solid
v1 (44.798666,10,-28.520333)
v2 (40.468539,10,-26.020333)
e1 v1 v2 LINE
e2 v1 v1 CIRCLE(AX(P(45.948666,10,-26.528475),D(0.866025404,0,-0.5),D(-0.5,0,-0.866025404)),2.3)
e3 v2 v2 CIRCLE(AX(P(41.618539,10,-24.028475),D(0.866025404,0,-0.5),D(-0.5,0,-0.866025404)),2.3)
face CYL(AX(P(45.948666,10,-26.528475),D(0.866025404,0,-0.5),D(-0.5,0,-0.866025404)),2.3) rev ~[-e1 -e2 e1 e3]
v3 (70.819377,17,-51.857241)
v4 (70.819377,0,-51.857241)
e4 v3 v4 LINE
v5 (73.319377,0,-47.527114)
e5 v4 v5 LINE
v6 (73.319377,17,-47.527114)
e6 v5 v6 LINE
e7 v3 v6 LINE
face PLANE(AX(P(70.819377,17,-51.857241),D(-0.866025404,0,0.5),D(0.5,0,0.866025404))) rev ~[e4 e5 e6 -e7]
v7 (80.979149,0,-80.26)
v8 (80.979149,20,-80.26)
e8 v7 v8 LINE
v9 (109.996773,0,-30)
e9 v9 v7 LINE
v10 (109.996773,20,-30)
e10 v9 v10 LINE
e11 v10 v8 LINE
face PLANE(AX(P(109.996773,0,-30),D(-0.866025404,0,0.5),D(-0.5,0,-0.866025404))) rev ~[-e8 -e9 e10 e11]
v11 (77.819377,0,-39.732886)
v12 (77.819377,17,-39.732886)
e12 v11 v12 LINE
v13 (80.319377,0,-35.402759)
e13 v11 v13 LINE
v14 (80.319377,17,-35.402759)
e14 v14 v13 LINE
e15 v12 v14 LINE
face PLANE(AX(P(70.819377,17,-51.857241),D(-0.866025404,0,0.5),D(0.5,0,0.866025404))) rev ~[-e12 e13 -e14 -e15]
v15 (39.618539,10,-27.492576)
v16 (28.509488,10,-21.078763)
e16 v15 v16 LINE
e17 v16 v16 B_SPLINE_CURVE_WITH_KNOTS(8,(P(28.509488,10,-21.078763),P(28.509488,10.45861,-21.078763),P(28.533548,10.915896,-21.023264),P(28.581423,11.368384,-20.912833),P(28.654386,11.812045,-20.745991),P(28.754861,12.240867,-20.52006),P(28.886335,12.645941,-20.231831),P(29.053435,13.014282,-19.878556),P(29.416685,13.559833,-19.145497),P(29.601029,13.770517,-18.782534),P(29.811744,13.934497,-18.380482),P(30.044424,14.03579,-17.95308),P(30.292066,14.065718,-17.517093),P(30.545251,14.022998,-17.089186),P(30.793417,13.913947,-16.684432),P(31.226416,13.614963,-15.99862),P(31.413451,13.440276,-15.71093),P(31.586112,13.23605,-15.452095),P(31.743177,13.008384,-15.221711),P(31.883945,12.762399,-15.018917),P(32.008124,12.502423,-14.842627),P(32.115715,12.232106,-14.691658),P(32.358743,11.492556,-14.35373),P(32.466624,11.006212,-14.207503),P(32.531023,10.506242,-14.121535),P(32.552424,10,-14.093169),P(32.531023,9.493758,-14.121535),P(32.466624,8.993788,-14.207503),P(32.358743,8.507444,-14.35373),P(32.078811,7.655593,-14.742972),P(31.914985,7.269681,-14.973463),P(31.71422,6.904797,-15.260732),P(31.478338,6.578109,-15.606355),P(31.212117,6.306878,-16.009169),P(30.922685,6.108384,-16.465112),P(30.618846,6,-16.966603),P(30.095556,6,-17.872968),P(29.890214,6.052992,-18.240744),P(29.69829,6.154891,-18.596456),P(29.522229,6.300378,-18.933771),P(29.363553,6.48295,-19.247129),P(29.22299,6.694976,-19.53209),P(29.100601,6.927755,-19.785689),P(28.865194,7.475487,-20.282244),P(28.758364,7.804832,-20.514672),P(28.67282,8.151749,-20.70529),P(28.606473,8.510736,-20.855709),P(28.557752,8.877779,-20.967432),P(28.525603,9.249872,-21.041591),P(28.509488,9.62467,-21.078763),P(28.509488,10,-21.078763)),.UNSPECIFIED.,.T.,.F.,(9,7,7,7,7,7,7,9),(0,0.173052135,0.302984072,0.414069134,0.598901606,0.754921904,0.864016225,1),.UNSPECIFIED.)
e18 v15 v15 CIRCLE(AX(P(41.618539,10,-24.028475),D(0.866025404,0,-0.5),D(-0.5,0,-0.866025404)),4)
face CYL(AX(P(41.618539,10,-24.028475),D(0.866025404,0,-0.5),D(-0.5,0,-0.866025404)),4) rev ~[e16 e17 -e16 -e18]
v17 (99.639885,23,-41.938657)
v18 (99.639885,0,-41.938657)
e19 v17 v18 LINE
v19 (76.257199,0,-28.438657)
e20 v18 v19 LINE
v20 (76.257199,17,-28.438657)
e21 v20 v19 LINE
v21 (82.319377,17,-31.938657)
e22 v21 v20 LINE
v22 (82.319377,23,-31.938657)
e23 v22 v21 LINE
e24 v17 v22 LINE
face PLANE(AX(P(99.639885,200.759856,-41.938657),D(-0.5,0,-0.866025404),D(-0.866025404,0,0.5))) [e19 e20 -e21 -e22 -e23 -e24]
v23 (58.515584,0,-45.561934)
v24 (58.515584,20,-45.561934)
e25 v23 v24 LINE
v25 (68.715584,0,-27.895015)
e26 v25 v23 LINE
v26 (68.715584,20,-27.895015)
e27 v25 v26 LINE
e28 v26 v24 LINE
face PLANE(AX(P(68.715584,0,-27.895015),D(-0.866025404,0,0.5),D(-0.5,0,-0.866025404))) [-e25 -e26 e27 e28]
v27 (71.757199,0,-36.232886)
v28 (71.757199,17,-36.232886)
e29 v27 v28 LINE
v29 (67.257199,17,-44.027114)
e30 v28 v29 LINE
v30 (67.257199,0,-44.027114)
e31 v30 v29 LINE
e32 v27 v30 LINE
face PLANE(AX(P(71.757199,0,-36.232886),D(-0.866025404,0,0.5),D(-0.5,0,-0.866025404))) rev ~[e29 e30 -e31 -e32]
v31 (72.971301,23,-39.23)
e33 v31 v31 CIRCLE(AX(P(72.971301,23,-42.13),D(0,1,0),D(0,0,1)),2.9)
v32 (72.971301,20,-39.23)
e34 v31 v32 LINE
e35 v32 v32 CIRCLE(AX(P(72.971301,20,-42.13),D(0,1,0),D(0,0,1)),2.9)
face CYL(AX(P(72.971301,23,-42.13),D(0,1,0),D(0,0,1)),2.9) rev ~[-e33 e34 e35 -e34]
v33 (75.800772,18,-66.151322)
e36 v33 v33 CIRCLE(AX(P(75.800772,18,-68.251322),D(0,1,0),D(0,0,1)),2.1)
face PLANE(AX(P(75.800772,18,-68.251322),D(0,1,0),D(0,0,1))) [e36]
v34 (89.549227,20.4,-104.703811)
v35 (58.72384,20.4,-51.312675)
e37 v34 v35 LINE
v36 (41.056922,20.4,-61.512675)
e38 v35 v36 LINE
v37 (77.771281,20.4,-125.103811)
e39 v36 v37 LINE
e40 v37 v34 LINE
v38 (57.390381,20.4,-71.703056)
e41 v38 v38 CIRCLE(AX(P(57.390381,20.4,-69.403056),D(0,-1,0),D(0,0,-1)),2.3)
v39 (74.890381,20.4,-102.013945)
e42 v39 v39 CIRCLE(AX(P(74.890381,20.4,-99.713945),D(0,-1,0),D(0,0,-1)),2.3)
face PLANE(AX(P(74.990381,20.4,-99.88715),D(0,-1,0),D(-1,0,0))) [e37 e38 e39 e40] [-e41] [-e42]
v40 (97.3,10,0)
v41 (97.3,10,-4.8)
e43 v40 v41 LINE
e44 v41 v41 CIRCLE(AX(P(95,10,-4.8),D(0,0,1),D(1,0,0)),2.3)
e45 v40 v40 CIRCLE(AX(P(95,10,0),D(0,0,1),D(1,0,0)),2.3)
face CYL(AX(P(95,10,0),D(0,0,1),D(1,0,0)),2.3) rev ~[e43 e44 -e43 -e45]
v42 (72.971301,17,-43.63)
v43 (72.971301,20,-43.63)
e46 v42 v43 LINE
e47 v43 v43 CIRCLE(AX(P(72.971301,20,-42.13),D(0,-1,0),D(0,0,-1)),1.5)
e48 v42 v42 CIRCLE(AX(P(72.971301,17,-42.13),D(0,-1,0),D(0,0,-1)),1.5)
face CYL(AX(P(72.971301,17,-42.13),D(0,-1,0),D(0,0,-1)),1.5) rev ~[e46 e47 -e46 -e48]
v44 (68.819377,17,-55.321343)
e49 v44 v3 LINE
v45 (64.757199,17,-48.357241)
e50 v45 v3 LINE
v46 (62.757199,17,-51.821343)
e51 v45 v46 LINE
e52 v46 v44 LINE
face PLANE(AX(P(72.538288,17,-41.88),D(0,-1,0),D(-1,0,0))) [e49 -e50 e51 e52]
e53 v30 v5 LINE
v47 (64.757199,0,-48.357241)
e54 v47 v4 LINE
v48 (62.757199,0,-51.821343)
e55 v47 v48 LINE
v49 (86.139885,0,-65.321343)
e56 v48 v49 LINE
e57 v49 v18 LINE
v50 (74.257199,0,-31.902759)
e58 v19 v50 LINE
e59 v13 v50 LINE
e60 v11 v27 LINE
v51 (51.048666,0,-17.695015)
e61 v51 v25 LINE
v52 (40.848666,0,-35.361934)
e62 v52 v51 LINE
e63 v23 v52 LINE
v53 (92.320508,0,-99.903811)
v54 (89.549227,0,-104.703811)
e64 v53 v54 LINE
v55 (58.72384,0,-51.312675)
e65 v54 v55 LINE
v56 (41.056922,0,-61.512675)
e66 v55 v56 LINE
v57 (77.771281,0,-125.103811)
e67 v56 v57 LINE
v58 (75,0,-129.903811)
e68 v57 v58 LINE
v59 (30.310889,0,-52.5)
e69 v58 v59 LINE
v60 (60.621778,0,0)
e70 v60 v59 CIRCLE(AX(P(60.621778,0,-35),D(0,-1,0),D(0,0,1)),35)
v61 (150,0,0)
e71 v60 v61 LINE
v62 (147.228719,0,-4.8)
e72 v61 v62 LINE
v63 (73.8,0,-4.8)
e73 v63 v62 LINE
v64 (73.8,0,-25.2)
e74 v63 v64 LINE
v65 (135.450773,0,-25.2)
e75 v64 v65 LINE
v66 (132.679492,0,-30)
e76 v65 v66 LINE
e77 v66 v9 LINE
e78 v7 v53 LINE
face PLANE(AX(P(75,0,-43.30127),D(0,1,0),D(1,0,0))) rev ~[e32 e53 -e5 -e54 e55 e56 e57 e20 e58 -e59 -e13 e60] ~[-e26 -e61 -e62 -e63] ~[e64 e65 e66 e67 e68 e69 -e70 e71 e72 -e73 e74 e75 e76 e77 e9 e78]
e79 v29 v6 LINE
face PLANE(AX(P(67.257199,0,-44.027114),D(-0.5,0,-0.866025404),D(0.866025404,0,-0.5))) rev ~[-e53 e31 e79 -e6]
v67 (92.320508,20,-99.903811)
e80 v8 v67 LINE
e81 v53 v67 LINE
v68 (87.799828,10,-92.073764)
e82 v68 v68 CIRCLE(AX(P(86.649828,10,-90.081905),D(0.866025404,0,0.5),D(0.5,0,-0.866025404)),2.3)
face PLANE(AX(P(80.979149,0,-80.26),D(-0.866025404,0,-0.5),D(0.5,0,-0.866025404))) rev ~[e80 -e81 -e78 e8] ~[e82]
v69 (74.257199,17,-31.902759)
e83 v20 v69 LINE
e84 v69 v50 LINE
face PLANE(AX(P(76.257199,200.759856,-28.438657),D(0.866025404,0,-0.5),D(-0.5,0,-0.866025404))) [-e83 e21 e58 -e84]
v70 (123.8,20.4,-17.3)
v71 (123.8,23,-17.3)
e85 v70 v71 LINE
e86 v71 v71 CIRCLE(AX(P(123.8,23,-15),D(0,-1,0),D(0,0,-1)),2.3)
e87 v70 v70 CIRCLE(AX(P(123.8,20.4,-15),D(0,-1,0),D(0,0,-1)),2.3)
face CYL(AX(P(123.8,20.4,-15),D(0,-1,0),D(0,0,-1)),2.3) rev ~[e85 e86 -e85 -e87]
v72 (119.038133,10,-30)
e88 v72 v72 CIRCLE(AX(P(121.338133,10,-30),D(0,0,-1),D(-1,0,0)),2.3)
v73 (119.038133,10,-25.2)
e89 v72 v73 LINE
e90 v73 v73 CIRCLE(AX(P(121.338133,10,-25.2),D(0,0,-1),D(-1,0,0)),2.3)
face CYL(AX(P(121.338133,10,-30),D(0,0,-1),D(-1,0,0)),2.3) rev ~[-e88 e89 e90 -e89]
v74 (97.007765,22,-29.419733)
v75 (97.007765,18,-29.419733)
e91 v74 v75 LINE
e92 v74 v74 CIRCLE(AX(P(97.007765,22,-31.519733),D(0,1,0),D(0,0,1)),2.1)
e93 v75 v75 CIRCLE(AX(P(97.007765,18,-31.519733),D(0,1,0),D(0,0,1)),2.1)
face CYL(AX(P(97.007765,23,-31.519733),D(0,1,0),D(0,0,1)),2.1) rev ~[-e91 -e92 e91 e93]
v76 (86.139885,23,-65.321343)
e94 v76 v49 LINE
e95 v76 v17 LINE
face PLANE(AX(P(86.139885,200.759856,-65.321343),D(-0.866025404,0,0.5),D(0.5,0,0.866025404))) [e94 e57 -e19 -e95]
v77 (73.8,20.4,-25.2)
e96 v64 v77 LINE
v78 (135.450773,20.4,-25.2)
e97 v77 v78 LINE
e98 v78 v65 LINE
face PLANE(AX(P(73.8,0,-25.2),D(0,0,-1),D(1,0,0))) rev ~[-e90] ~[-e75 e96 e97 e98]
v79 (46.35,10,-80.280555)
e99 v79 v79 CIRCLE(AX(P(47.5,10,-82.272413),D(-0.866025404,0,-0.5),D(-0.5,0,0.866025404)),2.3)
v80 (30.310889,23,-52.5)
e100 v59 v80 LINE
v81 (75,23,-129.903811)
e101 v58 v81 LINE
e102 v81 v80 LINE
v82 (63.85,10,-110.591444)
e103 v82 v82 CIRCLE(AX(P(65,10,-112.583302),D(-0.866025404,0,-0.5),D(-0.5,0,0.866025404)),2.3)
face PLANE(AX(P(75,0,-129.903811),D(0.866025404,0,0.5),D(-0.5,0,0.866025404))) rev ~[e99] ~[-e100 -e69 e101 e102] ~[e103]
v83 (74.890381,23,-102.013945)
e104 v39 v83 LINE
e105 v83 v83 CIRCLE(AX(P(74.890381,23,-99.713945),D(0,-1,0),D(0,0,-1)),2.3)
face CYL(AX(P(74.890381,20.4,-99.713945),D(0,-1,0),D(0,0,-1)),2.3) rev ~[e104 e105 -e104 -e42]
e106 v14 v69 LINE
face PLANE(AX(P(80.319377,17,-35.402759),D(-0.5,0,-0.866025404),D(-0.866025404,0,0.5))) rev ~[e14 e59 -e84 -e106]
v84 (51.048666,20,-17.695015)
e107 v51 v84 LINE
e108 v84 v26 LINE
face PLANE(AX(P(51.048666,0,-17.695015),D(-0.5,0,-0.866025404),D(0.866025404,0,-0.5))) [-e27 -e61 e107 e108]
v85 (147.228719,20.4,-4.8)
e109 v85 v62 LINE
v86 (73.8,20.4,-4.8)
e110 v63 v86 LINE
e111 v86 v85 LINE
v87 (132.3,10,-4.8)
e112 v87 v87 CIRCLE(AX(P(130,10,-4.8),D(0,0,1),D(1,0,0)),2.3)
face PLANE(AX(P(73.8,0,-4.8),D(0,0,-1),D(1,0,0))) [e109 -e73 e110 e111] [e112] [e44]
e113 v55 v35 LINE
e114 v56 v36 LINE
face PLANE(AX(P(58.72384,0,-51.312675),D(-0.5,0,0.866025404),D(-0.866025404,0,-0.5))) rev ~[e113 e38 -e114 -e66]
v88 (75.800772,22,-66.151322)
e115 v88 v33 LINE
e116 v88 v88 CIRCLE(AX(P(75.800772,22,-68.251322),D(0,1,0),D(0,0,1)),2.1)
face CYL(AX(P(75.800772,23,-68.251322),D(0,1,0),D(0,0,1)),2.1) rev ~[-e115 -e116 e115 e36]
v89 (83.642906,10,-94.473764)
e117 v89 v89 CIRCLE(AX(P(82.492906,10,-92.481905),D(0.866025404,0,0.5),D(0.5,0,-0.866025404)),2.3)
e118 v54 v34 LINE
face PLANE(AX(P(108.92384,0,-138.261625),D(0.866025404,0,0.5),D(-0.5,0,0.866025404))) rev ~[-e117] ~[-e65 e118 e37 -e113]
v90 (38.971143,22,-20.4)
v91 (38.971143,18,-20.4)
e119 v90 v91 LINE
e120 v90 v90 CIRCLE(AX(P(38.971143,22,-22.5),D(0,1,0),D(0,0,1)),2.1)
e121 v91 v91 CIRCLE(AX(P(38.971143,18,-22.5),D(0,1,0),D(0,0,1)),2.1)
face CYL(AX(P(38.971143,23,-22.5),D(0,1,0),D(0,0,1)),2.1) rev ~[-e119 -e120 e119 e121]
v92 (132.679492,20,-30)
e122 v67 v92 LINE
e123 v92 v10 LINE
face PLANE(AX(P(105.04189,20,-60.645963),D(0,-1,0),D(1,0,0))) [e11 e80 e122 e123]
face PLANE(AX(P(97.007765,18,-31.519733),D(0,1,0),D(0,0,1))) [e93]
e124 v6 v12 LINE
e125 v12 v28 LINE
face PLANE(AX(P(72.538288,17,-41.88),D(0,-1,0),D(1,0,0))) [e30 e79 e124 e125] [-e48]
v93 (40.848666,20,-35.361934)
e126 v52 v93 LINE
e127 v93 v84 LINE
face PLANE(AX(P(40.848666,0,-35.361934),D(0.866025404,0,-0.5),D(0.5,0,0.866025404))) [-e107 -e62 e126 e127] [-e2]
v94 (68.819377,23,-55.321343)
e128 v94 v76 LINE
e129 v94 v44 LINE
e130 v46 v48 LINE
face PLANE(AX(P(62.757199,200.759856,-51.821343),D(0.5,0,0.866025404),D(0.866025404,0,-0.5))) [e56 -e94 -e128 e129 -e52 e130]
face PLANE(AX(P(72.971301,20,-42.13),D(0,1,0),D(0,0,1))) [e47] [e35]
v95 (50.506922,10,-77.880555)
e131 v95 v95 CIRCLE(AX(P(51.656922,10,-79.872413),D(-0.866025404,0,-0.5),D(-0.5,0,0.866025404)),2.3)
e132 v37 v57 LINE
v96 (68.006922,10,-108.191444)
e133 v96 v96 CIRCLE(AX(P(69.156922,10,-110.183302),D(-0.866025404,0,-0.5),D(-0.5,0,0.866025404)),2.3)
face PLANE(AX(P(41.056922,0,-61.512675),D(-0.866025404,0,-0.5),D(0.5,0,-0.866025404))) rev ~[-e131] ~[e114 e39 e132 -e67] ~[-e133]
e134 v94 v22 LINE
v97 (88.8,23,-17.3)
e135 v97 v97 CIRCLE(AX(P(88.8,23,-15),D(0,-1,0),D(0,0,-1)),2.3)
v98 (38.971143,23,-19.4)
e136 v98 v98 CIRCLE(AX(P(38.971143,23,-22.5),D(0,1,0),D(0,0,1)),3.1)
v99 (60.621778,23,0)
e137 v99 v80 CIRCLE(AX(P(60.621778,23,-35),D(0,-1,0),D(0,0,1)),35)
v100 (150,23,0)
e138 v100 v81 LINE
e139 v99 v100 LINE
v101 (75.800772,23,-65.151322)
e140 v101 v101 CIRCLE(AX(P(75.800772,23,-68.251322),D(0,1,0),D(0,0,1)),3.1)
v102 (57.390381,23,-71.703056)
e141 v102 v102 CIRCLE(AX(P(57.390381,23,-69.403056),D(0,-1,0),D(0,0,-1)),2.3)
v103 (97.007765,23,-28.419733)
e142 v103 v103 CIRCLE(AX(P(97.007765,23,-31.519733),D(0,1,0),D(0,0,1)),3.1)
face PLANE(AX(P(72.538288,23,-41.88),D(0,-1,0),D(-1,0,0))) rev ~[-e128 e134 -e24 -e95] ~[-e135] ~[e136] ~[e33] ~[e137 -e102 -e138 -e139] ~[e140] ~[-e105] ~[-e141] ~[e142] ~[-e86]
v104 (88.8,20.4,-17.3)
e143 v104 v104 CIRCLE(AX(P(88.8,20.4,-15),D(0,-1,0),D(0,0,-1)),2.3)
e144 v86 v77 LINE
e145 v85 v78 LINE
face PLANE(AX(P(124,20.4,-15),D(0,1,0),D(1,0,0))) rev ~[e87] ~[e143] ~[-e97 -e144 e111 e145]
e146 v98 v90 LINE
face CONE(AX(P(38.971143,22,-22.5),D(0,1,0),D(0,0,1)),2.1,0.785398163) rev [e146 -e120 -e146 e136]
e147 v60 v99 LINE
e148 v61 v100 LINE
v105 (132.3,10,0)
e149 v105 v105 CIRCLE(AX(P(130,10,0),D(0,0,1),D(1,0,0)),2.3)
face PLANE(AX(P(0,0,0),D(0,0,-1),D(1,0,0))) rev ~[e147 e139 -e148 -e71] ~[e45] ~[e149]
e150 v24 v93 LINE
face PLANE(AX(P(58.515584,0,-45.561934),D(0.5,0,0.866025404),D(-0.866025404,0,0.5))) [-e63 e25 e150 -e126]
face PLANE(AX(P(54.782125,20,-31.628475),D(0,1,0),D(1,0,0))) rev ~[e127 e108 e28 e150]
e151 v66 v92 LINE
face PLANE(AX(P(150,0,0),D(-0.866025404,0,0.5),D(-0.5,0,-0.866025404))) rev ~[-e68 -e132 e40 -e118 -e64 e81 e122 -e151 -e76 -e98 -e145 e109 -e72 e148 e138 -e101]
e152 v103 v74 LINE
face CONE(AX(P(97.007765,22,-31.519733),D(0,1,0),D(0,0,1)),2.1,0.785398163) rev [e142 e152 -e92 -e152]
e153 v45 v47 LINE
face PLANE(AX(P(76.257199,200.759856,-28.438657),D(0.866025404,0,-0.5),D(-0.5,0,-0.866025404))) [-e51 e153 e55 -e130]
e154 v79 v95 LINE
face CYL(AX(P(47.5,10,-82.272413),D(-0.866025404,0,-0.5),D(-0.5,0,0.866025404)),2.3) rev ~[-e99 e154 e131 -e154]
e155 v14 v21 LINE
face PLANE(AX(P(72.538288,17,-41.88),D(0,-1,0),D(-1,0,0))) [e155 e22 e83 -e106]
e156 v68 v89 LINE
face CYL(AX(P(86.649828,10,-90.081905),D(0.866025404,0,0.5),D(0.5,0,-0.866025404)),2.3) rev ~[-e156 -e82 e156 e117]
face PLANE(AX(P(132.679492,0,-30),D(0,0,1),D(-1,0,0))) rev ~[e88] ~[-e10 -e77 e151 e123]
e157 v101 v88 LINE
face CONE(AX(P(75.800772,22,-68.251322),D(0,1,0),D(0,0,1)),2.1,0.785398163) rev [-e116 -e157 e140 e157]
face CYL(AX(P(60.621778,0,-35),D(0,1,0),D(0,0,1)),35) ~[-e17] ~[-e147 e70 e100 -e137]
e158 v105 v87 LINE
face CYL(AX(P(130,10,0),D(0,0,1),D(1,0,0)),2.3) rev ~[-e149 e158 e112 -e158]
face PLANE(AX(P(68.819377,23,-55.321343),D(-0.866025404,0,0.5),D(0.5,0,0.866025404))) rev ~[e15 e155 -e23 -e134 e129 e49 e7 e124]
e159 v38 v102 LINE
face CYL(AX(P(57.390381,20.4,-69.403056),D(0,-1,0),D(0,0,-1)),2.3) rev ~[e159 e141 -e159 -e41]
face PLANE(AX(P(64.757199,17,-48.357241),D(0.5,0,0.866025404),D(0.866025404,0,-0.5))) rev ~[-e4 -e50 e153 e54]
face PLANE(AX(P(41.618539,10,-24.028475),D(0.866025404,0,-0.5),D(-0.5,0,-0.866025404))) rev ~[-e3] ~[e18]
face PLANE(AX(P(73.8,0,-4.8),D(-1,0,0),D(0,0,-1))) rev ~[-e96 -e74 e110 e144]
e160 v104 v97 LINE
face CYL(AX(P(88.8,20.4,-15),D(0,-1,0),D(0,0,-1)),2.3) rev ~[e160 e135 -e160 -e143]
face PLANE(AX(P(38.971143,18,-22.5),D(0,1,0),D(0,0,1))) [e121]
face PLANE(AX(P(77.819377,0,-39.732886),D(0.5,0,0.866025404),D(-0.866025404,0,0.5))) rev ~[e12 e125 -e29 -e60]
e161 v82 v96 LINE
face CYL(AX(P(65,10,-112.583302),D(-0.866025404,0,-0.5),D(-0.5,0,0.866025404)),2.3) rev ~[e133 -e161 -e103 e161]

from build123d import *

# Parameters (mm, degrees)
BOSS_EXTRUDE1_DEPTH      = 23
SKETCH2_W                = 100.4
SKETCH2_H                = 20.4
CUT_EXTRUDE2_DEPTH       = 20.4
CUT_EXTRUDE3_DEPTH       = 20
SKETCH7_R                = 2.3
CUT_EXTRUDE6_DEPTH       = 10
SKETCH8_R                = 2.3
CUT_EXTRUDE7_DEPTH       = 10
FILLET3_R                = 35
CUT_EXTRUDE11_DEPTH      = 200.759855827
CUT_EXTRUDE11_DEPTH_BACK = 200.759855827
CUT_EXTRUDE10_DEPTH      = 20
BOSS_EXTRUDE3_DEPTH      = 6
BOSS_EXTRUDE4_DEPTH      = 17
CUT_EXTRUDE14_DEPTH      = 17
SKETCH30_R               = 1.5
CUT_EXTRUDE15_DEPTH      = 200.158228552
SKETCH31_R               = 2.9
CUT_EXTRUDE17_DEPTH      = 3
SKETCH32_R               = 2.3
CUT_EXTRUDE18_DEPTH      = 10
SKETCH33_R               = 2.3
CUT_EXTRUDE19_DEPTH      = 10
SKETCH34_R               = 2.3
CUT_EXTRUDE20_DEPTH      = 149.465956609
SKETCH35_R               = 4
CUT_EXTRUDE21_DEPTH      = 154.248582194
SKETCH36_R               = 2.1
CUT_EXTRUDE22_DEPTH      = 5
SKETCH37_R               = 2.1
CUT_EXTRUDE23_DEPTH      = 5
SKETCH38_R               = 2.3
CUT_EXTRUDE24_DEPTH      = 10
CHAMFER1_SIZE            = 1


with BuildPart() as part:
    # Sketch1 → Boss-Extrude1 (new body)
    with BuildSketch(Plane(origin=(0, 0, 0), x_dir=(1, 0, 0), z_dir=(0, 1, 0))):
        Polygon((0, 0), (150, 0), (75, 129.903810568), align=None)
    extrude(amount=BOSS_EXTRUDE1_DEPTH)

    # Sketch2 → Cut-Extrude2 (cut)
    with BuildSketch(Plane(origin=(0, 0, 0), x_dir=(1, 0, 0), z_dir=(0, 1, 0))):
        Polygon((108.923840175, 138.261625339), (58.723840175, 51.312674799), (41.056921938, 61.512674799), (91.256921938, 148.461625339), align=None)
        with Locations((124, 15)):
            Rectangle(SKETCH2_W, SKETCH2_H)
    extrude(amount=CUT_EXTRUDE2_DEPTH, mode=Mode.SUBTRACT)

    # Sketch4 → Cut-Extrude3 (cut)
    with BuildSketch(Plane(origin=(0, 0, 0), x_dir=(1, 0, 0), z_dir=(0, 1, 0))):
        Polygon((58.515583945, 45.561933634), (40.848665708, 35.361933634), (51.048665708, 17.695015397), (68.715583945, 27.895015397), align=None)
    extrude(amount=CUT_EXTRUDE3_DEPTH, mode=Mode.SUBTRACT)

    # Sketch7 → Cut-Extrude6 (cut)
    with BuildSketch(Plane(origin=(0, 0, 0), x_dir=(-0.4999999999999978, 0, 0.86602540378444), z_dir=(-0.86602540378444, 0, -0.4999999999999978))):
        with Locations((-130, 10)):
            Circle(SKETCH7_R)
        with Locations((-95, 10)):
            Circle(SKETCH7_R)
    extrude(amount=-CUT_EXTRUDE6_DEPTH, mode=Mode.SUBTRACT)

    # Sketch8 → Cut-Extrude7 (cut)
    with BuildSketch(Plane.XY):
        with Locations((130, 10)):
            Circle(SKETCH8_R)
        with Locations((95, 10)):
            Circle(SKETCH8_R)
    extrude(amount=-CUT_EXTRUDE7_DEPTH, mode=Mode.SUBTRACT)

    # Fillet3
    fillet3_edges = [part.edges().sort_by_distance(p)[0] for p in [
        (0, 11.5, 0),
    ]]
    fillet(fillet3_edges, radius=FILLET3_R)

    # Sketch22 → Cut-Extrude11 (cut, two sides: drawn at the far end of the back side and taken through both)
    with BuildSketch(Plane.XZ.offset(-CUT_EXTRUDE11_DEPTH_BACK)):
        Polygon((76.257198908, -28.438657049), (62.757198908, -51.821342951), (86.13988481, -65.321342951), (99.63988481, -41.938657049), align=None)
    extrude(amount=CUT_EXTRUDE11_DEPTH + CUT_EXTRUDE11_DEPTH_BACK, mode=Mode.SUBTRACT)

    # Sketch21 → Cut-Extrude10 (cut)
    with BuildSketch(Plane.XZ):
        Polygon((132.679491924, -30), (109.996773286, -30), (80.979148757, -80.26), (92.320508076, -99.903810568), align=None)
    extrude(amount=-CUT_EXTRUDE10_DEPTH, mode=Mode.SUBTRACT)

    # Sketch27 → Boss-Extrude3 (add)
    with BuildSketch(Plane(origin=(0, 23, 0), x_dir=(1, 0, 0), z_dir=(0, 1, 0))):
        Polygon((76.257198908, 28.438657049), (62.757198908, 51.821342951), (68.819376734, 55.321342951), (82.319376734, 31.938657049), align=None)
    extrude(amount=-BOSS_EXTRUDE3_DEPTH)

    # Sketch28 → Boss-Extrude4 (add)
    with BuildSketch(Plane.XZ.offset(-17)):
        Polygon((74.257198908, -31.902758664), (64.757198908, -48.357241336), (70.819376734, -51.857241336), (80.319376734, -35.402758664), align=None)
    extrude(amount=BOSS_EXTRUDE4_DEPTH)

    # Sketch29 → Cut-Extrude14 (cut)
    with BuildSketch(Plane.XZ):
        Polygon((77.819376734, -39.732885683), (71.757198908, -36.232885683), (67.257198908, -44.027114317), (73.319376734, -47.527114317), align=None)
    extrude(amount=-CUT_EXTRUDE14_DEPTH, mode=Mode.SUBTRACT)

    # Sketch30 → Cut-Extrude15 (cut, through all)
    with BuildSketch(Plane.XZ.offset(-17)):
        with Locations(Location((72.971300523, -42.13, 0), (0, 0, 270))):
            Circle(SKETCH30_R)
    extrude(amount=-CUT_EXTRUDE15_DEPTH, mode=Mode.SUBTRACT)

    # Sketch31 → Cut-Extrude17 (cut)
    with BuildSketch(Plane(origin=(0, 23, 0), x_dir=(1, 0, 0), z_dir=(0, 1, 0))):
        with Locations(Location((72.971300523, 42.13, 0), (0, 0, 270))):
            Circle(SKETCH31_R)
    extrude(amount=-CUT_EXTRUDE17_DEPTH, mode=Mode.SUBTRACT)

    # Sketch32 → Cut-Extrude18 (cut)
    with BuildSketch(Plane(origin=(0, 0, -30), x_dir=(-1, 0, 0), z_dir=(0, 0, -1))):
        with Locations((-121.338132605, 10)):
            Circle(SKETCH32_R)
    extrude(amount=-CUT_EXTRUDE18_DEPTH, mode=Mode.SUBTRACT)

    # Sketch33 → Cut-Extrude19 (cut)
    with BuildSketch(Plane(origin=(25.980762114, 0, 15), x_dir=(0.4999999999999997, 0, -0.8660254037844388), z_dir=(0.8660254037844389, 0, 0.49999999999999983))):
        with Locations((121.338132605, 10)):
            Circle(SKETCH33_R)
    extrude(amount=-CUT_EXTRUDE19_DEPTH, mode=Mode.SUBTRACT)

    # Sketch34 → Cut-Extrude20 (cut, through all)
    with BuildSketch(Plane(origin=(45.948665708, 0, -26.528474516), x_dir=(-0.5000000000000001, 0, -0.8660254037844386), z_dir=(0.8660254037844386, 0, -0.5000000000000001))):
        with Locations((0, 10)):
            Circle(SKETCH34_R)
    extrude(amount=-CUT_EXTRUDE20_DEPTH, mode=Mode.SUBTRACT)

    # Sketch35 → Cut-Extrude21 (cut, through all)
    with BuildSketch(Plane(origin=(41.618538689, 0, -24.028474516), x_dir=(-0.5000000000000001, 0, -0.8660254037844386), z_dir=(0.8660254037844386, 0, -0.5000000000000001))):
        with Locations((0, 10)):
            Circle(SKETCH35_R)
    extrude(amount=-CUT_EXTRUDE21_DEPTH, mode=Mode.SUBTRACT)

    # Sketch36 → Cut-Extrude22 (cut)
    with BuildSketch(Plane(origin=(0, 23, 0), x_dir=(1, 0, 0), z_dir=(0, 1, 0))):
        with Locations(Location((38.97114317, 22.5, 0), (0, 0, 270))):
            Circle(SKETCH36_R)
    extrude(amount=-CUT_EXTRUDE22_DEPTH, mode=Mode.SUBTRACT)

    # Sketch37 → Cut-Extrude23 (cut)
    with BuildSketch(Plane(origin=(0, 23, 0), x_dir=(1, 0, 0), z_dir=(0, 1, 0))):
        with Locations(Location((97.007764662, 31.519733426, 0), (0, 0, 270))):
            Circle(SKETCH37_R)
        with Locations(Location((75.800772199, 68.251321849, 0), (0, 0, 270))):
            Circle(SKETCH37_R)
    extrude(amount=-CUT_EXTRUDE23_DEPTH, mode=Mode.SUBTRACT)

    # Sketch38 → Cut-Extrude24 (cut)
    with BuildSketch(Plane.XZ.offset(-20.4)):
        with Locations(Location((88.8, -15, 0), (0, 0, 270))):
            Circle(SKETCH38_R)
        with Locations(Location((123.8, -15, 0), (0, 0, 270))):
            Circle(SKETCH38_R)
        with Locations(Location((57.390381057, -69.403055856, 0), (0, 0, 270))):
            Circle(SKETCH38_R)
        with Locations(Location((74.890381057, -99.713944989, 0), (0, 0, 270))):
            Circle(SKETCH38_R)
    extrude(amount=-CUT_EXTRUDE24_DEPTH, mode=Mode.SUBTRACT)

    # Chamfer1
    chamfer1_edges = [part.edges().sort_by_distance(p)[0] for p in [
        (38.97114317, 23, -24.6),
        (97.007764662, 23, -33.619733426),
        (75.800772199, 23, -70.351321849),
    ]]
    chamfer(chamfer1_edges, length=CHAMFER1_SIZE)


solid = part.part
